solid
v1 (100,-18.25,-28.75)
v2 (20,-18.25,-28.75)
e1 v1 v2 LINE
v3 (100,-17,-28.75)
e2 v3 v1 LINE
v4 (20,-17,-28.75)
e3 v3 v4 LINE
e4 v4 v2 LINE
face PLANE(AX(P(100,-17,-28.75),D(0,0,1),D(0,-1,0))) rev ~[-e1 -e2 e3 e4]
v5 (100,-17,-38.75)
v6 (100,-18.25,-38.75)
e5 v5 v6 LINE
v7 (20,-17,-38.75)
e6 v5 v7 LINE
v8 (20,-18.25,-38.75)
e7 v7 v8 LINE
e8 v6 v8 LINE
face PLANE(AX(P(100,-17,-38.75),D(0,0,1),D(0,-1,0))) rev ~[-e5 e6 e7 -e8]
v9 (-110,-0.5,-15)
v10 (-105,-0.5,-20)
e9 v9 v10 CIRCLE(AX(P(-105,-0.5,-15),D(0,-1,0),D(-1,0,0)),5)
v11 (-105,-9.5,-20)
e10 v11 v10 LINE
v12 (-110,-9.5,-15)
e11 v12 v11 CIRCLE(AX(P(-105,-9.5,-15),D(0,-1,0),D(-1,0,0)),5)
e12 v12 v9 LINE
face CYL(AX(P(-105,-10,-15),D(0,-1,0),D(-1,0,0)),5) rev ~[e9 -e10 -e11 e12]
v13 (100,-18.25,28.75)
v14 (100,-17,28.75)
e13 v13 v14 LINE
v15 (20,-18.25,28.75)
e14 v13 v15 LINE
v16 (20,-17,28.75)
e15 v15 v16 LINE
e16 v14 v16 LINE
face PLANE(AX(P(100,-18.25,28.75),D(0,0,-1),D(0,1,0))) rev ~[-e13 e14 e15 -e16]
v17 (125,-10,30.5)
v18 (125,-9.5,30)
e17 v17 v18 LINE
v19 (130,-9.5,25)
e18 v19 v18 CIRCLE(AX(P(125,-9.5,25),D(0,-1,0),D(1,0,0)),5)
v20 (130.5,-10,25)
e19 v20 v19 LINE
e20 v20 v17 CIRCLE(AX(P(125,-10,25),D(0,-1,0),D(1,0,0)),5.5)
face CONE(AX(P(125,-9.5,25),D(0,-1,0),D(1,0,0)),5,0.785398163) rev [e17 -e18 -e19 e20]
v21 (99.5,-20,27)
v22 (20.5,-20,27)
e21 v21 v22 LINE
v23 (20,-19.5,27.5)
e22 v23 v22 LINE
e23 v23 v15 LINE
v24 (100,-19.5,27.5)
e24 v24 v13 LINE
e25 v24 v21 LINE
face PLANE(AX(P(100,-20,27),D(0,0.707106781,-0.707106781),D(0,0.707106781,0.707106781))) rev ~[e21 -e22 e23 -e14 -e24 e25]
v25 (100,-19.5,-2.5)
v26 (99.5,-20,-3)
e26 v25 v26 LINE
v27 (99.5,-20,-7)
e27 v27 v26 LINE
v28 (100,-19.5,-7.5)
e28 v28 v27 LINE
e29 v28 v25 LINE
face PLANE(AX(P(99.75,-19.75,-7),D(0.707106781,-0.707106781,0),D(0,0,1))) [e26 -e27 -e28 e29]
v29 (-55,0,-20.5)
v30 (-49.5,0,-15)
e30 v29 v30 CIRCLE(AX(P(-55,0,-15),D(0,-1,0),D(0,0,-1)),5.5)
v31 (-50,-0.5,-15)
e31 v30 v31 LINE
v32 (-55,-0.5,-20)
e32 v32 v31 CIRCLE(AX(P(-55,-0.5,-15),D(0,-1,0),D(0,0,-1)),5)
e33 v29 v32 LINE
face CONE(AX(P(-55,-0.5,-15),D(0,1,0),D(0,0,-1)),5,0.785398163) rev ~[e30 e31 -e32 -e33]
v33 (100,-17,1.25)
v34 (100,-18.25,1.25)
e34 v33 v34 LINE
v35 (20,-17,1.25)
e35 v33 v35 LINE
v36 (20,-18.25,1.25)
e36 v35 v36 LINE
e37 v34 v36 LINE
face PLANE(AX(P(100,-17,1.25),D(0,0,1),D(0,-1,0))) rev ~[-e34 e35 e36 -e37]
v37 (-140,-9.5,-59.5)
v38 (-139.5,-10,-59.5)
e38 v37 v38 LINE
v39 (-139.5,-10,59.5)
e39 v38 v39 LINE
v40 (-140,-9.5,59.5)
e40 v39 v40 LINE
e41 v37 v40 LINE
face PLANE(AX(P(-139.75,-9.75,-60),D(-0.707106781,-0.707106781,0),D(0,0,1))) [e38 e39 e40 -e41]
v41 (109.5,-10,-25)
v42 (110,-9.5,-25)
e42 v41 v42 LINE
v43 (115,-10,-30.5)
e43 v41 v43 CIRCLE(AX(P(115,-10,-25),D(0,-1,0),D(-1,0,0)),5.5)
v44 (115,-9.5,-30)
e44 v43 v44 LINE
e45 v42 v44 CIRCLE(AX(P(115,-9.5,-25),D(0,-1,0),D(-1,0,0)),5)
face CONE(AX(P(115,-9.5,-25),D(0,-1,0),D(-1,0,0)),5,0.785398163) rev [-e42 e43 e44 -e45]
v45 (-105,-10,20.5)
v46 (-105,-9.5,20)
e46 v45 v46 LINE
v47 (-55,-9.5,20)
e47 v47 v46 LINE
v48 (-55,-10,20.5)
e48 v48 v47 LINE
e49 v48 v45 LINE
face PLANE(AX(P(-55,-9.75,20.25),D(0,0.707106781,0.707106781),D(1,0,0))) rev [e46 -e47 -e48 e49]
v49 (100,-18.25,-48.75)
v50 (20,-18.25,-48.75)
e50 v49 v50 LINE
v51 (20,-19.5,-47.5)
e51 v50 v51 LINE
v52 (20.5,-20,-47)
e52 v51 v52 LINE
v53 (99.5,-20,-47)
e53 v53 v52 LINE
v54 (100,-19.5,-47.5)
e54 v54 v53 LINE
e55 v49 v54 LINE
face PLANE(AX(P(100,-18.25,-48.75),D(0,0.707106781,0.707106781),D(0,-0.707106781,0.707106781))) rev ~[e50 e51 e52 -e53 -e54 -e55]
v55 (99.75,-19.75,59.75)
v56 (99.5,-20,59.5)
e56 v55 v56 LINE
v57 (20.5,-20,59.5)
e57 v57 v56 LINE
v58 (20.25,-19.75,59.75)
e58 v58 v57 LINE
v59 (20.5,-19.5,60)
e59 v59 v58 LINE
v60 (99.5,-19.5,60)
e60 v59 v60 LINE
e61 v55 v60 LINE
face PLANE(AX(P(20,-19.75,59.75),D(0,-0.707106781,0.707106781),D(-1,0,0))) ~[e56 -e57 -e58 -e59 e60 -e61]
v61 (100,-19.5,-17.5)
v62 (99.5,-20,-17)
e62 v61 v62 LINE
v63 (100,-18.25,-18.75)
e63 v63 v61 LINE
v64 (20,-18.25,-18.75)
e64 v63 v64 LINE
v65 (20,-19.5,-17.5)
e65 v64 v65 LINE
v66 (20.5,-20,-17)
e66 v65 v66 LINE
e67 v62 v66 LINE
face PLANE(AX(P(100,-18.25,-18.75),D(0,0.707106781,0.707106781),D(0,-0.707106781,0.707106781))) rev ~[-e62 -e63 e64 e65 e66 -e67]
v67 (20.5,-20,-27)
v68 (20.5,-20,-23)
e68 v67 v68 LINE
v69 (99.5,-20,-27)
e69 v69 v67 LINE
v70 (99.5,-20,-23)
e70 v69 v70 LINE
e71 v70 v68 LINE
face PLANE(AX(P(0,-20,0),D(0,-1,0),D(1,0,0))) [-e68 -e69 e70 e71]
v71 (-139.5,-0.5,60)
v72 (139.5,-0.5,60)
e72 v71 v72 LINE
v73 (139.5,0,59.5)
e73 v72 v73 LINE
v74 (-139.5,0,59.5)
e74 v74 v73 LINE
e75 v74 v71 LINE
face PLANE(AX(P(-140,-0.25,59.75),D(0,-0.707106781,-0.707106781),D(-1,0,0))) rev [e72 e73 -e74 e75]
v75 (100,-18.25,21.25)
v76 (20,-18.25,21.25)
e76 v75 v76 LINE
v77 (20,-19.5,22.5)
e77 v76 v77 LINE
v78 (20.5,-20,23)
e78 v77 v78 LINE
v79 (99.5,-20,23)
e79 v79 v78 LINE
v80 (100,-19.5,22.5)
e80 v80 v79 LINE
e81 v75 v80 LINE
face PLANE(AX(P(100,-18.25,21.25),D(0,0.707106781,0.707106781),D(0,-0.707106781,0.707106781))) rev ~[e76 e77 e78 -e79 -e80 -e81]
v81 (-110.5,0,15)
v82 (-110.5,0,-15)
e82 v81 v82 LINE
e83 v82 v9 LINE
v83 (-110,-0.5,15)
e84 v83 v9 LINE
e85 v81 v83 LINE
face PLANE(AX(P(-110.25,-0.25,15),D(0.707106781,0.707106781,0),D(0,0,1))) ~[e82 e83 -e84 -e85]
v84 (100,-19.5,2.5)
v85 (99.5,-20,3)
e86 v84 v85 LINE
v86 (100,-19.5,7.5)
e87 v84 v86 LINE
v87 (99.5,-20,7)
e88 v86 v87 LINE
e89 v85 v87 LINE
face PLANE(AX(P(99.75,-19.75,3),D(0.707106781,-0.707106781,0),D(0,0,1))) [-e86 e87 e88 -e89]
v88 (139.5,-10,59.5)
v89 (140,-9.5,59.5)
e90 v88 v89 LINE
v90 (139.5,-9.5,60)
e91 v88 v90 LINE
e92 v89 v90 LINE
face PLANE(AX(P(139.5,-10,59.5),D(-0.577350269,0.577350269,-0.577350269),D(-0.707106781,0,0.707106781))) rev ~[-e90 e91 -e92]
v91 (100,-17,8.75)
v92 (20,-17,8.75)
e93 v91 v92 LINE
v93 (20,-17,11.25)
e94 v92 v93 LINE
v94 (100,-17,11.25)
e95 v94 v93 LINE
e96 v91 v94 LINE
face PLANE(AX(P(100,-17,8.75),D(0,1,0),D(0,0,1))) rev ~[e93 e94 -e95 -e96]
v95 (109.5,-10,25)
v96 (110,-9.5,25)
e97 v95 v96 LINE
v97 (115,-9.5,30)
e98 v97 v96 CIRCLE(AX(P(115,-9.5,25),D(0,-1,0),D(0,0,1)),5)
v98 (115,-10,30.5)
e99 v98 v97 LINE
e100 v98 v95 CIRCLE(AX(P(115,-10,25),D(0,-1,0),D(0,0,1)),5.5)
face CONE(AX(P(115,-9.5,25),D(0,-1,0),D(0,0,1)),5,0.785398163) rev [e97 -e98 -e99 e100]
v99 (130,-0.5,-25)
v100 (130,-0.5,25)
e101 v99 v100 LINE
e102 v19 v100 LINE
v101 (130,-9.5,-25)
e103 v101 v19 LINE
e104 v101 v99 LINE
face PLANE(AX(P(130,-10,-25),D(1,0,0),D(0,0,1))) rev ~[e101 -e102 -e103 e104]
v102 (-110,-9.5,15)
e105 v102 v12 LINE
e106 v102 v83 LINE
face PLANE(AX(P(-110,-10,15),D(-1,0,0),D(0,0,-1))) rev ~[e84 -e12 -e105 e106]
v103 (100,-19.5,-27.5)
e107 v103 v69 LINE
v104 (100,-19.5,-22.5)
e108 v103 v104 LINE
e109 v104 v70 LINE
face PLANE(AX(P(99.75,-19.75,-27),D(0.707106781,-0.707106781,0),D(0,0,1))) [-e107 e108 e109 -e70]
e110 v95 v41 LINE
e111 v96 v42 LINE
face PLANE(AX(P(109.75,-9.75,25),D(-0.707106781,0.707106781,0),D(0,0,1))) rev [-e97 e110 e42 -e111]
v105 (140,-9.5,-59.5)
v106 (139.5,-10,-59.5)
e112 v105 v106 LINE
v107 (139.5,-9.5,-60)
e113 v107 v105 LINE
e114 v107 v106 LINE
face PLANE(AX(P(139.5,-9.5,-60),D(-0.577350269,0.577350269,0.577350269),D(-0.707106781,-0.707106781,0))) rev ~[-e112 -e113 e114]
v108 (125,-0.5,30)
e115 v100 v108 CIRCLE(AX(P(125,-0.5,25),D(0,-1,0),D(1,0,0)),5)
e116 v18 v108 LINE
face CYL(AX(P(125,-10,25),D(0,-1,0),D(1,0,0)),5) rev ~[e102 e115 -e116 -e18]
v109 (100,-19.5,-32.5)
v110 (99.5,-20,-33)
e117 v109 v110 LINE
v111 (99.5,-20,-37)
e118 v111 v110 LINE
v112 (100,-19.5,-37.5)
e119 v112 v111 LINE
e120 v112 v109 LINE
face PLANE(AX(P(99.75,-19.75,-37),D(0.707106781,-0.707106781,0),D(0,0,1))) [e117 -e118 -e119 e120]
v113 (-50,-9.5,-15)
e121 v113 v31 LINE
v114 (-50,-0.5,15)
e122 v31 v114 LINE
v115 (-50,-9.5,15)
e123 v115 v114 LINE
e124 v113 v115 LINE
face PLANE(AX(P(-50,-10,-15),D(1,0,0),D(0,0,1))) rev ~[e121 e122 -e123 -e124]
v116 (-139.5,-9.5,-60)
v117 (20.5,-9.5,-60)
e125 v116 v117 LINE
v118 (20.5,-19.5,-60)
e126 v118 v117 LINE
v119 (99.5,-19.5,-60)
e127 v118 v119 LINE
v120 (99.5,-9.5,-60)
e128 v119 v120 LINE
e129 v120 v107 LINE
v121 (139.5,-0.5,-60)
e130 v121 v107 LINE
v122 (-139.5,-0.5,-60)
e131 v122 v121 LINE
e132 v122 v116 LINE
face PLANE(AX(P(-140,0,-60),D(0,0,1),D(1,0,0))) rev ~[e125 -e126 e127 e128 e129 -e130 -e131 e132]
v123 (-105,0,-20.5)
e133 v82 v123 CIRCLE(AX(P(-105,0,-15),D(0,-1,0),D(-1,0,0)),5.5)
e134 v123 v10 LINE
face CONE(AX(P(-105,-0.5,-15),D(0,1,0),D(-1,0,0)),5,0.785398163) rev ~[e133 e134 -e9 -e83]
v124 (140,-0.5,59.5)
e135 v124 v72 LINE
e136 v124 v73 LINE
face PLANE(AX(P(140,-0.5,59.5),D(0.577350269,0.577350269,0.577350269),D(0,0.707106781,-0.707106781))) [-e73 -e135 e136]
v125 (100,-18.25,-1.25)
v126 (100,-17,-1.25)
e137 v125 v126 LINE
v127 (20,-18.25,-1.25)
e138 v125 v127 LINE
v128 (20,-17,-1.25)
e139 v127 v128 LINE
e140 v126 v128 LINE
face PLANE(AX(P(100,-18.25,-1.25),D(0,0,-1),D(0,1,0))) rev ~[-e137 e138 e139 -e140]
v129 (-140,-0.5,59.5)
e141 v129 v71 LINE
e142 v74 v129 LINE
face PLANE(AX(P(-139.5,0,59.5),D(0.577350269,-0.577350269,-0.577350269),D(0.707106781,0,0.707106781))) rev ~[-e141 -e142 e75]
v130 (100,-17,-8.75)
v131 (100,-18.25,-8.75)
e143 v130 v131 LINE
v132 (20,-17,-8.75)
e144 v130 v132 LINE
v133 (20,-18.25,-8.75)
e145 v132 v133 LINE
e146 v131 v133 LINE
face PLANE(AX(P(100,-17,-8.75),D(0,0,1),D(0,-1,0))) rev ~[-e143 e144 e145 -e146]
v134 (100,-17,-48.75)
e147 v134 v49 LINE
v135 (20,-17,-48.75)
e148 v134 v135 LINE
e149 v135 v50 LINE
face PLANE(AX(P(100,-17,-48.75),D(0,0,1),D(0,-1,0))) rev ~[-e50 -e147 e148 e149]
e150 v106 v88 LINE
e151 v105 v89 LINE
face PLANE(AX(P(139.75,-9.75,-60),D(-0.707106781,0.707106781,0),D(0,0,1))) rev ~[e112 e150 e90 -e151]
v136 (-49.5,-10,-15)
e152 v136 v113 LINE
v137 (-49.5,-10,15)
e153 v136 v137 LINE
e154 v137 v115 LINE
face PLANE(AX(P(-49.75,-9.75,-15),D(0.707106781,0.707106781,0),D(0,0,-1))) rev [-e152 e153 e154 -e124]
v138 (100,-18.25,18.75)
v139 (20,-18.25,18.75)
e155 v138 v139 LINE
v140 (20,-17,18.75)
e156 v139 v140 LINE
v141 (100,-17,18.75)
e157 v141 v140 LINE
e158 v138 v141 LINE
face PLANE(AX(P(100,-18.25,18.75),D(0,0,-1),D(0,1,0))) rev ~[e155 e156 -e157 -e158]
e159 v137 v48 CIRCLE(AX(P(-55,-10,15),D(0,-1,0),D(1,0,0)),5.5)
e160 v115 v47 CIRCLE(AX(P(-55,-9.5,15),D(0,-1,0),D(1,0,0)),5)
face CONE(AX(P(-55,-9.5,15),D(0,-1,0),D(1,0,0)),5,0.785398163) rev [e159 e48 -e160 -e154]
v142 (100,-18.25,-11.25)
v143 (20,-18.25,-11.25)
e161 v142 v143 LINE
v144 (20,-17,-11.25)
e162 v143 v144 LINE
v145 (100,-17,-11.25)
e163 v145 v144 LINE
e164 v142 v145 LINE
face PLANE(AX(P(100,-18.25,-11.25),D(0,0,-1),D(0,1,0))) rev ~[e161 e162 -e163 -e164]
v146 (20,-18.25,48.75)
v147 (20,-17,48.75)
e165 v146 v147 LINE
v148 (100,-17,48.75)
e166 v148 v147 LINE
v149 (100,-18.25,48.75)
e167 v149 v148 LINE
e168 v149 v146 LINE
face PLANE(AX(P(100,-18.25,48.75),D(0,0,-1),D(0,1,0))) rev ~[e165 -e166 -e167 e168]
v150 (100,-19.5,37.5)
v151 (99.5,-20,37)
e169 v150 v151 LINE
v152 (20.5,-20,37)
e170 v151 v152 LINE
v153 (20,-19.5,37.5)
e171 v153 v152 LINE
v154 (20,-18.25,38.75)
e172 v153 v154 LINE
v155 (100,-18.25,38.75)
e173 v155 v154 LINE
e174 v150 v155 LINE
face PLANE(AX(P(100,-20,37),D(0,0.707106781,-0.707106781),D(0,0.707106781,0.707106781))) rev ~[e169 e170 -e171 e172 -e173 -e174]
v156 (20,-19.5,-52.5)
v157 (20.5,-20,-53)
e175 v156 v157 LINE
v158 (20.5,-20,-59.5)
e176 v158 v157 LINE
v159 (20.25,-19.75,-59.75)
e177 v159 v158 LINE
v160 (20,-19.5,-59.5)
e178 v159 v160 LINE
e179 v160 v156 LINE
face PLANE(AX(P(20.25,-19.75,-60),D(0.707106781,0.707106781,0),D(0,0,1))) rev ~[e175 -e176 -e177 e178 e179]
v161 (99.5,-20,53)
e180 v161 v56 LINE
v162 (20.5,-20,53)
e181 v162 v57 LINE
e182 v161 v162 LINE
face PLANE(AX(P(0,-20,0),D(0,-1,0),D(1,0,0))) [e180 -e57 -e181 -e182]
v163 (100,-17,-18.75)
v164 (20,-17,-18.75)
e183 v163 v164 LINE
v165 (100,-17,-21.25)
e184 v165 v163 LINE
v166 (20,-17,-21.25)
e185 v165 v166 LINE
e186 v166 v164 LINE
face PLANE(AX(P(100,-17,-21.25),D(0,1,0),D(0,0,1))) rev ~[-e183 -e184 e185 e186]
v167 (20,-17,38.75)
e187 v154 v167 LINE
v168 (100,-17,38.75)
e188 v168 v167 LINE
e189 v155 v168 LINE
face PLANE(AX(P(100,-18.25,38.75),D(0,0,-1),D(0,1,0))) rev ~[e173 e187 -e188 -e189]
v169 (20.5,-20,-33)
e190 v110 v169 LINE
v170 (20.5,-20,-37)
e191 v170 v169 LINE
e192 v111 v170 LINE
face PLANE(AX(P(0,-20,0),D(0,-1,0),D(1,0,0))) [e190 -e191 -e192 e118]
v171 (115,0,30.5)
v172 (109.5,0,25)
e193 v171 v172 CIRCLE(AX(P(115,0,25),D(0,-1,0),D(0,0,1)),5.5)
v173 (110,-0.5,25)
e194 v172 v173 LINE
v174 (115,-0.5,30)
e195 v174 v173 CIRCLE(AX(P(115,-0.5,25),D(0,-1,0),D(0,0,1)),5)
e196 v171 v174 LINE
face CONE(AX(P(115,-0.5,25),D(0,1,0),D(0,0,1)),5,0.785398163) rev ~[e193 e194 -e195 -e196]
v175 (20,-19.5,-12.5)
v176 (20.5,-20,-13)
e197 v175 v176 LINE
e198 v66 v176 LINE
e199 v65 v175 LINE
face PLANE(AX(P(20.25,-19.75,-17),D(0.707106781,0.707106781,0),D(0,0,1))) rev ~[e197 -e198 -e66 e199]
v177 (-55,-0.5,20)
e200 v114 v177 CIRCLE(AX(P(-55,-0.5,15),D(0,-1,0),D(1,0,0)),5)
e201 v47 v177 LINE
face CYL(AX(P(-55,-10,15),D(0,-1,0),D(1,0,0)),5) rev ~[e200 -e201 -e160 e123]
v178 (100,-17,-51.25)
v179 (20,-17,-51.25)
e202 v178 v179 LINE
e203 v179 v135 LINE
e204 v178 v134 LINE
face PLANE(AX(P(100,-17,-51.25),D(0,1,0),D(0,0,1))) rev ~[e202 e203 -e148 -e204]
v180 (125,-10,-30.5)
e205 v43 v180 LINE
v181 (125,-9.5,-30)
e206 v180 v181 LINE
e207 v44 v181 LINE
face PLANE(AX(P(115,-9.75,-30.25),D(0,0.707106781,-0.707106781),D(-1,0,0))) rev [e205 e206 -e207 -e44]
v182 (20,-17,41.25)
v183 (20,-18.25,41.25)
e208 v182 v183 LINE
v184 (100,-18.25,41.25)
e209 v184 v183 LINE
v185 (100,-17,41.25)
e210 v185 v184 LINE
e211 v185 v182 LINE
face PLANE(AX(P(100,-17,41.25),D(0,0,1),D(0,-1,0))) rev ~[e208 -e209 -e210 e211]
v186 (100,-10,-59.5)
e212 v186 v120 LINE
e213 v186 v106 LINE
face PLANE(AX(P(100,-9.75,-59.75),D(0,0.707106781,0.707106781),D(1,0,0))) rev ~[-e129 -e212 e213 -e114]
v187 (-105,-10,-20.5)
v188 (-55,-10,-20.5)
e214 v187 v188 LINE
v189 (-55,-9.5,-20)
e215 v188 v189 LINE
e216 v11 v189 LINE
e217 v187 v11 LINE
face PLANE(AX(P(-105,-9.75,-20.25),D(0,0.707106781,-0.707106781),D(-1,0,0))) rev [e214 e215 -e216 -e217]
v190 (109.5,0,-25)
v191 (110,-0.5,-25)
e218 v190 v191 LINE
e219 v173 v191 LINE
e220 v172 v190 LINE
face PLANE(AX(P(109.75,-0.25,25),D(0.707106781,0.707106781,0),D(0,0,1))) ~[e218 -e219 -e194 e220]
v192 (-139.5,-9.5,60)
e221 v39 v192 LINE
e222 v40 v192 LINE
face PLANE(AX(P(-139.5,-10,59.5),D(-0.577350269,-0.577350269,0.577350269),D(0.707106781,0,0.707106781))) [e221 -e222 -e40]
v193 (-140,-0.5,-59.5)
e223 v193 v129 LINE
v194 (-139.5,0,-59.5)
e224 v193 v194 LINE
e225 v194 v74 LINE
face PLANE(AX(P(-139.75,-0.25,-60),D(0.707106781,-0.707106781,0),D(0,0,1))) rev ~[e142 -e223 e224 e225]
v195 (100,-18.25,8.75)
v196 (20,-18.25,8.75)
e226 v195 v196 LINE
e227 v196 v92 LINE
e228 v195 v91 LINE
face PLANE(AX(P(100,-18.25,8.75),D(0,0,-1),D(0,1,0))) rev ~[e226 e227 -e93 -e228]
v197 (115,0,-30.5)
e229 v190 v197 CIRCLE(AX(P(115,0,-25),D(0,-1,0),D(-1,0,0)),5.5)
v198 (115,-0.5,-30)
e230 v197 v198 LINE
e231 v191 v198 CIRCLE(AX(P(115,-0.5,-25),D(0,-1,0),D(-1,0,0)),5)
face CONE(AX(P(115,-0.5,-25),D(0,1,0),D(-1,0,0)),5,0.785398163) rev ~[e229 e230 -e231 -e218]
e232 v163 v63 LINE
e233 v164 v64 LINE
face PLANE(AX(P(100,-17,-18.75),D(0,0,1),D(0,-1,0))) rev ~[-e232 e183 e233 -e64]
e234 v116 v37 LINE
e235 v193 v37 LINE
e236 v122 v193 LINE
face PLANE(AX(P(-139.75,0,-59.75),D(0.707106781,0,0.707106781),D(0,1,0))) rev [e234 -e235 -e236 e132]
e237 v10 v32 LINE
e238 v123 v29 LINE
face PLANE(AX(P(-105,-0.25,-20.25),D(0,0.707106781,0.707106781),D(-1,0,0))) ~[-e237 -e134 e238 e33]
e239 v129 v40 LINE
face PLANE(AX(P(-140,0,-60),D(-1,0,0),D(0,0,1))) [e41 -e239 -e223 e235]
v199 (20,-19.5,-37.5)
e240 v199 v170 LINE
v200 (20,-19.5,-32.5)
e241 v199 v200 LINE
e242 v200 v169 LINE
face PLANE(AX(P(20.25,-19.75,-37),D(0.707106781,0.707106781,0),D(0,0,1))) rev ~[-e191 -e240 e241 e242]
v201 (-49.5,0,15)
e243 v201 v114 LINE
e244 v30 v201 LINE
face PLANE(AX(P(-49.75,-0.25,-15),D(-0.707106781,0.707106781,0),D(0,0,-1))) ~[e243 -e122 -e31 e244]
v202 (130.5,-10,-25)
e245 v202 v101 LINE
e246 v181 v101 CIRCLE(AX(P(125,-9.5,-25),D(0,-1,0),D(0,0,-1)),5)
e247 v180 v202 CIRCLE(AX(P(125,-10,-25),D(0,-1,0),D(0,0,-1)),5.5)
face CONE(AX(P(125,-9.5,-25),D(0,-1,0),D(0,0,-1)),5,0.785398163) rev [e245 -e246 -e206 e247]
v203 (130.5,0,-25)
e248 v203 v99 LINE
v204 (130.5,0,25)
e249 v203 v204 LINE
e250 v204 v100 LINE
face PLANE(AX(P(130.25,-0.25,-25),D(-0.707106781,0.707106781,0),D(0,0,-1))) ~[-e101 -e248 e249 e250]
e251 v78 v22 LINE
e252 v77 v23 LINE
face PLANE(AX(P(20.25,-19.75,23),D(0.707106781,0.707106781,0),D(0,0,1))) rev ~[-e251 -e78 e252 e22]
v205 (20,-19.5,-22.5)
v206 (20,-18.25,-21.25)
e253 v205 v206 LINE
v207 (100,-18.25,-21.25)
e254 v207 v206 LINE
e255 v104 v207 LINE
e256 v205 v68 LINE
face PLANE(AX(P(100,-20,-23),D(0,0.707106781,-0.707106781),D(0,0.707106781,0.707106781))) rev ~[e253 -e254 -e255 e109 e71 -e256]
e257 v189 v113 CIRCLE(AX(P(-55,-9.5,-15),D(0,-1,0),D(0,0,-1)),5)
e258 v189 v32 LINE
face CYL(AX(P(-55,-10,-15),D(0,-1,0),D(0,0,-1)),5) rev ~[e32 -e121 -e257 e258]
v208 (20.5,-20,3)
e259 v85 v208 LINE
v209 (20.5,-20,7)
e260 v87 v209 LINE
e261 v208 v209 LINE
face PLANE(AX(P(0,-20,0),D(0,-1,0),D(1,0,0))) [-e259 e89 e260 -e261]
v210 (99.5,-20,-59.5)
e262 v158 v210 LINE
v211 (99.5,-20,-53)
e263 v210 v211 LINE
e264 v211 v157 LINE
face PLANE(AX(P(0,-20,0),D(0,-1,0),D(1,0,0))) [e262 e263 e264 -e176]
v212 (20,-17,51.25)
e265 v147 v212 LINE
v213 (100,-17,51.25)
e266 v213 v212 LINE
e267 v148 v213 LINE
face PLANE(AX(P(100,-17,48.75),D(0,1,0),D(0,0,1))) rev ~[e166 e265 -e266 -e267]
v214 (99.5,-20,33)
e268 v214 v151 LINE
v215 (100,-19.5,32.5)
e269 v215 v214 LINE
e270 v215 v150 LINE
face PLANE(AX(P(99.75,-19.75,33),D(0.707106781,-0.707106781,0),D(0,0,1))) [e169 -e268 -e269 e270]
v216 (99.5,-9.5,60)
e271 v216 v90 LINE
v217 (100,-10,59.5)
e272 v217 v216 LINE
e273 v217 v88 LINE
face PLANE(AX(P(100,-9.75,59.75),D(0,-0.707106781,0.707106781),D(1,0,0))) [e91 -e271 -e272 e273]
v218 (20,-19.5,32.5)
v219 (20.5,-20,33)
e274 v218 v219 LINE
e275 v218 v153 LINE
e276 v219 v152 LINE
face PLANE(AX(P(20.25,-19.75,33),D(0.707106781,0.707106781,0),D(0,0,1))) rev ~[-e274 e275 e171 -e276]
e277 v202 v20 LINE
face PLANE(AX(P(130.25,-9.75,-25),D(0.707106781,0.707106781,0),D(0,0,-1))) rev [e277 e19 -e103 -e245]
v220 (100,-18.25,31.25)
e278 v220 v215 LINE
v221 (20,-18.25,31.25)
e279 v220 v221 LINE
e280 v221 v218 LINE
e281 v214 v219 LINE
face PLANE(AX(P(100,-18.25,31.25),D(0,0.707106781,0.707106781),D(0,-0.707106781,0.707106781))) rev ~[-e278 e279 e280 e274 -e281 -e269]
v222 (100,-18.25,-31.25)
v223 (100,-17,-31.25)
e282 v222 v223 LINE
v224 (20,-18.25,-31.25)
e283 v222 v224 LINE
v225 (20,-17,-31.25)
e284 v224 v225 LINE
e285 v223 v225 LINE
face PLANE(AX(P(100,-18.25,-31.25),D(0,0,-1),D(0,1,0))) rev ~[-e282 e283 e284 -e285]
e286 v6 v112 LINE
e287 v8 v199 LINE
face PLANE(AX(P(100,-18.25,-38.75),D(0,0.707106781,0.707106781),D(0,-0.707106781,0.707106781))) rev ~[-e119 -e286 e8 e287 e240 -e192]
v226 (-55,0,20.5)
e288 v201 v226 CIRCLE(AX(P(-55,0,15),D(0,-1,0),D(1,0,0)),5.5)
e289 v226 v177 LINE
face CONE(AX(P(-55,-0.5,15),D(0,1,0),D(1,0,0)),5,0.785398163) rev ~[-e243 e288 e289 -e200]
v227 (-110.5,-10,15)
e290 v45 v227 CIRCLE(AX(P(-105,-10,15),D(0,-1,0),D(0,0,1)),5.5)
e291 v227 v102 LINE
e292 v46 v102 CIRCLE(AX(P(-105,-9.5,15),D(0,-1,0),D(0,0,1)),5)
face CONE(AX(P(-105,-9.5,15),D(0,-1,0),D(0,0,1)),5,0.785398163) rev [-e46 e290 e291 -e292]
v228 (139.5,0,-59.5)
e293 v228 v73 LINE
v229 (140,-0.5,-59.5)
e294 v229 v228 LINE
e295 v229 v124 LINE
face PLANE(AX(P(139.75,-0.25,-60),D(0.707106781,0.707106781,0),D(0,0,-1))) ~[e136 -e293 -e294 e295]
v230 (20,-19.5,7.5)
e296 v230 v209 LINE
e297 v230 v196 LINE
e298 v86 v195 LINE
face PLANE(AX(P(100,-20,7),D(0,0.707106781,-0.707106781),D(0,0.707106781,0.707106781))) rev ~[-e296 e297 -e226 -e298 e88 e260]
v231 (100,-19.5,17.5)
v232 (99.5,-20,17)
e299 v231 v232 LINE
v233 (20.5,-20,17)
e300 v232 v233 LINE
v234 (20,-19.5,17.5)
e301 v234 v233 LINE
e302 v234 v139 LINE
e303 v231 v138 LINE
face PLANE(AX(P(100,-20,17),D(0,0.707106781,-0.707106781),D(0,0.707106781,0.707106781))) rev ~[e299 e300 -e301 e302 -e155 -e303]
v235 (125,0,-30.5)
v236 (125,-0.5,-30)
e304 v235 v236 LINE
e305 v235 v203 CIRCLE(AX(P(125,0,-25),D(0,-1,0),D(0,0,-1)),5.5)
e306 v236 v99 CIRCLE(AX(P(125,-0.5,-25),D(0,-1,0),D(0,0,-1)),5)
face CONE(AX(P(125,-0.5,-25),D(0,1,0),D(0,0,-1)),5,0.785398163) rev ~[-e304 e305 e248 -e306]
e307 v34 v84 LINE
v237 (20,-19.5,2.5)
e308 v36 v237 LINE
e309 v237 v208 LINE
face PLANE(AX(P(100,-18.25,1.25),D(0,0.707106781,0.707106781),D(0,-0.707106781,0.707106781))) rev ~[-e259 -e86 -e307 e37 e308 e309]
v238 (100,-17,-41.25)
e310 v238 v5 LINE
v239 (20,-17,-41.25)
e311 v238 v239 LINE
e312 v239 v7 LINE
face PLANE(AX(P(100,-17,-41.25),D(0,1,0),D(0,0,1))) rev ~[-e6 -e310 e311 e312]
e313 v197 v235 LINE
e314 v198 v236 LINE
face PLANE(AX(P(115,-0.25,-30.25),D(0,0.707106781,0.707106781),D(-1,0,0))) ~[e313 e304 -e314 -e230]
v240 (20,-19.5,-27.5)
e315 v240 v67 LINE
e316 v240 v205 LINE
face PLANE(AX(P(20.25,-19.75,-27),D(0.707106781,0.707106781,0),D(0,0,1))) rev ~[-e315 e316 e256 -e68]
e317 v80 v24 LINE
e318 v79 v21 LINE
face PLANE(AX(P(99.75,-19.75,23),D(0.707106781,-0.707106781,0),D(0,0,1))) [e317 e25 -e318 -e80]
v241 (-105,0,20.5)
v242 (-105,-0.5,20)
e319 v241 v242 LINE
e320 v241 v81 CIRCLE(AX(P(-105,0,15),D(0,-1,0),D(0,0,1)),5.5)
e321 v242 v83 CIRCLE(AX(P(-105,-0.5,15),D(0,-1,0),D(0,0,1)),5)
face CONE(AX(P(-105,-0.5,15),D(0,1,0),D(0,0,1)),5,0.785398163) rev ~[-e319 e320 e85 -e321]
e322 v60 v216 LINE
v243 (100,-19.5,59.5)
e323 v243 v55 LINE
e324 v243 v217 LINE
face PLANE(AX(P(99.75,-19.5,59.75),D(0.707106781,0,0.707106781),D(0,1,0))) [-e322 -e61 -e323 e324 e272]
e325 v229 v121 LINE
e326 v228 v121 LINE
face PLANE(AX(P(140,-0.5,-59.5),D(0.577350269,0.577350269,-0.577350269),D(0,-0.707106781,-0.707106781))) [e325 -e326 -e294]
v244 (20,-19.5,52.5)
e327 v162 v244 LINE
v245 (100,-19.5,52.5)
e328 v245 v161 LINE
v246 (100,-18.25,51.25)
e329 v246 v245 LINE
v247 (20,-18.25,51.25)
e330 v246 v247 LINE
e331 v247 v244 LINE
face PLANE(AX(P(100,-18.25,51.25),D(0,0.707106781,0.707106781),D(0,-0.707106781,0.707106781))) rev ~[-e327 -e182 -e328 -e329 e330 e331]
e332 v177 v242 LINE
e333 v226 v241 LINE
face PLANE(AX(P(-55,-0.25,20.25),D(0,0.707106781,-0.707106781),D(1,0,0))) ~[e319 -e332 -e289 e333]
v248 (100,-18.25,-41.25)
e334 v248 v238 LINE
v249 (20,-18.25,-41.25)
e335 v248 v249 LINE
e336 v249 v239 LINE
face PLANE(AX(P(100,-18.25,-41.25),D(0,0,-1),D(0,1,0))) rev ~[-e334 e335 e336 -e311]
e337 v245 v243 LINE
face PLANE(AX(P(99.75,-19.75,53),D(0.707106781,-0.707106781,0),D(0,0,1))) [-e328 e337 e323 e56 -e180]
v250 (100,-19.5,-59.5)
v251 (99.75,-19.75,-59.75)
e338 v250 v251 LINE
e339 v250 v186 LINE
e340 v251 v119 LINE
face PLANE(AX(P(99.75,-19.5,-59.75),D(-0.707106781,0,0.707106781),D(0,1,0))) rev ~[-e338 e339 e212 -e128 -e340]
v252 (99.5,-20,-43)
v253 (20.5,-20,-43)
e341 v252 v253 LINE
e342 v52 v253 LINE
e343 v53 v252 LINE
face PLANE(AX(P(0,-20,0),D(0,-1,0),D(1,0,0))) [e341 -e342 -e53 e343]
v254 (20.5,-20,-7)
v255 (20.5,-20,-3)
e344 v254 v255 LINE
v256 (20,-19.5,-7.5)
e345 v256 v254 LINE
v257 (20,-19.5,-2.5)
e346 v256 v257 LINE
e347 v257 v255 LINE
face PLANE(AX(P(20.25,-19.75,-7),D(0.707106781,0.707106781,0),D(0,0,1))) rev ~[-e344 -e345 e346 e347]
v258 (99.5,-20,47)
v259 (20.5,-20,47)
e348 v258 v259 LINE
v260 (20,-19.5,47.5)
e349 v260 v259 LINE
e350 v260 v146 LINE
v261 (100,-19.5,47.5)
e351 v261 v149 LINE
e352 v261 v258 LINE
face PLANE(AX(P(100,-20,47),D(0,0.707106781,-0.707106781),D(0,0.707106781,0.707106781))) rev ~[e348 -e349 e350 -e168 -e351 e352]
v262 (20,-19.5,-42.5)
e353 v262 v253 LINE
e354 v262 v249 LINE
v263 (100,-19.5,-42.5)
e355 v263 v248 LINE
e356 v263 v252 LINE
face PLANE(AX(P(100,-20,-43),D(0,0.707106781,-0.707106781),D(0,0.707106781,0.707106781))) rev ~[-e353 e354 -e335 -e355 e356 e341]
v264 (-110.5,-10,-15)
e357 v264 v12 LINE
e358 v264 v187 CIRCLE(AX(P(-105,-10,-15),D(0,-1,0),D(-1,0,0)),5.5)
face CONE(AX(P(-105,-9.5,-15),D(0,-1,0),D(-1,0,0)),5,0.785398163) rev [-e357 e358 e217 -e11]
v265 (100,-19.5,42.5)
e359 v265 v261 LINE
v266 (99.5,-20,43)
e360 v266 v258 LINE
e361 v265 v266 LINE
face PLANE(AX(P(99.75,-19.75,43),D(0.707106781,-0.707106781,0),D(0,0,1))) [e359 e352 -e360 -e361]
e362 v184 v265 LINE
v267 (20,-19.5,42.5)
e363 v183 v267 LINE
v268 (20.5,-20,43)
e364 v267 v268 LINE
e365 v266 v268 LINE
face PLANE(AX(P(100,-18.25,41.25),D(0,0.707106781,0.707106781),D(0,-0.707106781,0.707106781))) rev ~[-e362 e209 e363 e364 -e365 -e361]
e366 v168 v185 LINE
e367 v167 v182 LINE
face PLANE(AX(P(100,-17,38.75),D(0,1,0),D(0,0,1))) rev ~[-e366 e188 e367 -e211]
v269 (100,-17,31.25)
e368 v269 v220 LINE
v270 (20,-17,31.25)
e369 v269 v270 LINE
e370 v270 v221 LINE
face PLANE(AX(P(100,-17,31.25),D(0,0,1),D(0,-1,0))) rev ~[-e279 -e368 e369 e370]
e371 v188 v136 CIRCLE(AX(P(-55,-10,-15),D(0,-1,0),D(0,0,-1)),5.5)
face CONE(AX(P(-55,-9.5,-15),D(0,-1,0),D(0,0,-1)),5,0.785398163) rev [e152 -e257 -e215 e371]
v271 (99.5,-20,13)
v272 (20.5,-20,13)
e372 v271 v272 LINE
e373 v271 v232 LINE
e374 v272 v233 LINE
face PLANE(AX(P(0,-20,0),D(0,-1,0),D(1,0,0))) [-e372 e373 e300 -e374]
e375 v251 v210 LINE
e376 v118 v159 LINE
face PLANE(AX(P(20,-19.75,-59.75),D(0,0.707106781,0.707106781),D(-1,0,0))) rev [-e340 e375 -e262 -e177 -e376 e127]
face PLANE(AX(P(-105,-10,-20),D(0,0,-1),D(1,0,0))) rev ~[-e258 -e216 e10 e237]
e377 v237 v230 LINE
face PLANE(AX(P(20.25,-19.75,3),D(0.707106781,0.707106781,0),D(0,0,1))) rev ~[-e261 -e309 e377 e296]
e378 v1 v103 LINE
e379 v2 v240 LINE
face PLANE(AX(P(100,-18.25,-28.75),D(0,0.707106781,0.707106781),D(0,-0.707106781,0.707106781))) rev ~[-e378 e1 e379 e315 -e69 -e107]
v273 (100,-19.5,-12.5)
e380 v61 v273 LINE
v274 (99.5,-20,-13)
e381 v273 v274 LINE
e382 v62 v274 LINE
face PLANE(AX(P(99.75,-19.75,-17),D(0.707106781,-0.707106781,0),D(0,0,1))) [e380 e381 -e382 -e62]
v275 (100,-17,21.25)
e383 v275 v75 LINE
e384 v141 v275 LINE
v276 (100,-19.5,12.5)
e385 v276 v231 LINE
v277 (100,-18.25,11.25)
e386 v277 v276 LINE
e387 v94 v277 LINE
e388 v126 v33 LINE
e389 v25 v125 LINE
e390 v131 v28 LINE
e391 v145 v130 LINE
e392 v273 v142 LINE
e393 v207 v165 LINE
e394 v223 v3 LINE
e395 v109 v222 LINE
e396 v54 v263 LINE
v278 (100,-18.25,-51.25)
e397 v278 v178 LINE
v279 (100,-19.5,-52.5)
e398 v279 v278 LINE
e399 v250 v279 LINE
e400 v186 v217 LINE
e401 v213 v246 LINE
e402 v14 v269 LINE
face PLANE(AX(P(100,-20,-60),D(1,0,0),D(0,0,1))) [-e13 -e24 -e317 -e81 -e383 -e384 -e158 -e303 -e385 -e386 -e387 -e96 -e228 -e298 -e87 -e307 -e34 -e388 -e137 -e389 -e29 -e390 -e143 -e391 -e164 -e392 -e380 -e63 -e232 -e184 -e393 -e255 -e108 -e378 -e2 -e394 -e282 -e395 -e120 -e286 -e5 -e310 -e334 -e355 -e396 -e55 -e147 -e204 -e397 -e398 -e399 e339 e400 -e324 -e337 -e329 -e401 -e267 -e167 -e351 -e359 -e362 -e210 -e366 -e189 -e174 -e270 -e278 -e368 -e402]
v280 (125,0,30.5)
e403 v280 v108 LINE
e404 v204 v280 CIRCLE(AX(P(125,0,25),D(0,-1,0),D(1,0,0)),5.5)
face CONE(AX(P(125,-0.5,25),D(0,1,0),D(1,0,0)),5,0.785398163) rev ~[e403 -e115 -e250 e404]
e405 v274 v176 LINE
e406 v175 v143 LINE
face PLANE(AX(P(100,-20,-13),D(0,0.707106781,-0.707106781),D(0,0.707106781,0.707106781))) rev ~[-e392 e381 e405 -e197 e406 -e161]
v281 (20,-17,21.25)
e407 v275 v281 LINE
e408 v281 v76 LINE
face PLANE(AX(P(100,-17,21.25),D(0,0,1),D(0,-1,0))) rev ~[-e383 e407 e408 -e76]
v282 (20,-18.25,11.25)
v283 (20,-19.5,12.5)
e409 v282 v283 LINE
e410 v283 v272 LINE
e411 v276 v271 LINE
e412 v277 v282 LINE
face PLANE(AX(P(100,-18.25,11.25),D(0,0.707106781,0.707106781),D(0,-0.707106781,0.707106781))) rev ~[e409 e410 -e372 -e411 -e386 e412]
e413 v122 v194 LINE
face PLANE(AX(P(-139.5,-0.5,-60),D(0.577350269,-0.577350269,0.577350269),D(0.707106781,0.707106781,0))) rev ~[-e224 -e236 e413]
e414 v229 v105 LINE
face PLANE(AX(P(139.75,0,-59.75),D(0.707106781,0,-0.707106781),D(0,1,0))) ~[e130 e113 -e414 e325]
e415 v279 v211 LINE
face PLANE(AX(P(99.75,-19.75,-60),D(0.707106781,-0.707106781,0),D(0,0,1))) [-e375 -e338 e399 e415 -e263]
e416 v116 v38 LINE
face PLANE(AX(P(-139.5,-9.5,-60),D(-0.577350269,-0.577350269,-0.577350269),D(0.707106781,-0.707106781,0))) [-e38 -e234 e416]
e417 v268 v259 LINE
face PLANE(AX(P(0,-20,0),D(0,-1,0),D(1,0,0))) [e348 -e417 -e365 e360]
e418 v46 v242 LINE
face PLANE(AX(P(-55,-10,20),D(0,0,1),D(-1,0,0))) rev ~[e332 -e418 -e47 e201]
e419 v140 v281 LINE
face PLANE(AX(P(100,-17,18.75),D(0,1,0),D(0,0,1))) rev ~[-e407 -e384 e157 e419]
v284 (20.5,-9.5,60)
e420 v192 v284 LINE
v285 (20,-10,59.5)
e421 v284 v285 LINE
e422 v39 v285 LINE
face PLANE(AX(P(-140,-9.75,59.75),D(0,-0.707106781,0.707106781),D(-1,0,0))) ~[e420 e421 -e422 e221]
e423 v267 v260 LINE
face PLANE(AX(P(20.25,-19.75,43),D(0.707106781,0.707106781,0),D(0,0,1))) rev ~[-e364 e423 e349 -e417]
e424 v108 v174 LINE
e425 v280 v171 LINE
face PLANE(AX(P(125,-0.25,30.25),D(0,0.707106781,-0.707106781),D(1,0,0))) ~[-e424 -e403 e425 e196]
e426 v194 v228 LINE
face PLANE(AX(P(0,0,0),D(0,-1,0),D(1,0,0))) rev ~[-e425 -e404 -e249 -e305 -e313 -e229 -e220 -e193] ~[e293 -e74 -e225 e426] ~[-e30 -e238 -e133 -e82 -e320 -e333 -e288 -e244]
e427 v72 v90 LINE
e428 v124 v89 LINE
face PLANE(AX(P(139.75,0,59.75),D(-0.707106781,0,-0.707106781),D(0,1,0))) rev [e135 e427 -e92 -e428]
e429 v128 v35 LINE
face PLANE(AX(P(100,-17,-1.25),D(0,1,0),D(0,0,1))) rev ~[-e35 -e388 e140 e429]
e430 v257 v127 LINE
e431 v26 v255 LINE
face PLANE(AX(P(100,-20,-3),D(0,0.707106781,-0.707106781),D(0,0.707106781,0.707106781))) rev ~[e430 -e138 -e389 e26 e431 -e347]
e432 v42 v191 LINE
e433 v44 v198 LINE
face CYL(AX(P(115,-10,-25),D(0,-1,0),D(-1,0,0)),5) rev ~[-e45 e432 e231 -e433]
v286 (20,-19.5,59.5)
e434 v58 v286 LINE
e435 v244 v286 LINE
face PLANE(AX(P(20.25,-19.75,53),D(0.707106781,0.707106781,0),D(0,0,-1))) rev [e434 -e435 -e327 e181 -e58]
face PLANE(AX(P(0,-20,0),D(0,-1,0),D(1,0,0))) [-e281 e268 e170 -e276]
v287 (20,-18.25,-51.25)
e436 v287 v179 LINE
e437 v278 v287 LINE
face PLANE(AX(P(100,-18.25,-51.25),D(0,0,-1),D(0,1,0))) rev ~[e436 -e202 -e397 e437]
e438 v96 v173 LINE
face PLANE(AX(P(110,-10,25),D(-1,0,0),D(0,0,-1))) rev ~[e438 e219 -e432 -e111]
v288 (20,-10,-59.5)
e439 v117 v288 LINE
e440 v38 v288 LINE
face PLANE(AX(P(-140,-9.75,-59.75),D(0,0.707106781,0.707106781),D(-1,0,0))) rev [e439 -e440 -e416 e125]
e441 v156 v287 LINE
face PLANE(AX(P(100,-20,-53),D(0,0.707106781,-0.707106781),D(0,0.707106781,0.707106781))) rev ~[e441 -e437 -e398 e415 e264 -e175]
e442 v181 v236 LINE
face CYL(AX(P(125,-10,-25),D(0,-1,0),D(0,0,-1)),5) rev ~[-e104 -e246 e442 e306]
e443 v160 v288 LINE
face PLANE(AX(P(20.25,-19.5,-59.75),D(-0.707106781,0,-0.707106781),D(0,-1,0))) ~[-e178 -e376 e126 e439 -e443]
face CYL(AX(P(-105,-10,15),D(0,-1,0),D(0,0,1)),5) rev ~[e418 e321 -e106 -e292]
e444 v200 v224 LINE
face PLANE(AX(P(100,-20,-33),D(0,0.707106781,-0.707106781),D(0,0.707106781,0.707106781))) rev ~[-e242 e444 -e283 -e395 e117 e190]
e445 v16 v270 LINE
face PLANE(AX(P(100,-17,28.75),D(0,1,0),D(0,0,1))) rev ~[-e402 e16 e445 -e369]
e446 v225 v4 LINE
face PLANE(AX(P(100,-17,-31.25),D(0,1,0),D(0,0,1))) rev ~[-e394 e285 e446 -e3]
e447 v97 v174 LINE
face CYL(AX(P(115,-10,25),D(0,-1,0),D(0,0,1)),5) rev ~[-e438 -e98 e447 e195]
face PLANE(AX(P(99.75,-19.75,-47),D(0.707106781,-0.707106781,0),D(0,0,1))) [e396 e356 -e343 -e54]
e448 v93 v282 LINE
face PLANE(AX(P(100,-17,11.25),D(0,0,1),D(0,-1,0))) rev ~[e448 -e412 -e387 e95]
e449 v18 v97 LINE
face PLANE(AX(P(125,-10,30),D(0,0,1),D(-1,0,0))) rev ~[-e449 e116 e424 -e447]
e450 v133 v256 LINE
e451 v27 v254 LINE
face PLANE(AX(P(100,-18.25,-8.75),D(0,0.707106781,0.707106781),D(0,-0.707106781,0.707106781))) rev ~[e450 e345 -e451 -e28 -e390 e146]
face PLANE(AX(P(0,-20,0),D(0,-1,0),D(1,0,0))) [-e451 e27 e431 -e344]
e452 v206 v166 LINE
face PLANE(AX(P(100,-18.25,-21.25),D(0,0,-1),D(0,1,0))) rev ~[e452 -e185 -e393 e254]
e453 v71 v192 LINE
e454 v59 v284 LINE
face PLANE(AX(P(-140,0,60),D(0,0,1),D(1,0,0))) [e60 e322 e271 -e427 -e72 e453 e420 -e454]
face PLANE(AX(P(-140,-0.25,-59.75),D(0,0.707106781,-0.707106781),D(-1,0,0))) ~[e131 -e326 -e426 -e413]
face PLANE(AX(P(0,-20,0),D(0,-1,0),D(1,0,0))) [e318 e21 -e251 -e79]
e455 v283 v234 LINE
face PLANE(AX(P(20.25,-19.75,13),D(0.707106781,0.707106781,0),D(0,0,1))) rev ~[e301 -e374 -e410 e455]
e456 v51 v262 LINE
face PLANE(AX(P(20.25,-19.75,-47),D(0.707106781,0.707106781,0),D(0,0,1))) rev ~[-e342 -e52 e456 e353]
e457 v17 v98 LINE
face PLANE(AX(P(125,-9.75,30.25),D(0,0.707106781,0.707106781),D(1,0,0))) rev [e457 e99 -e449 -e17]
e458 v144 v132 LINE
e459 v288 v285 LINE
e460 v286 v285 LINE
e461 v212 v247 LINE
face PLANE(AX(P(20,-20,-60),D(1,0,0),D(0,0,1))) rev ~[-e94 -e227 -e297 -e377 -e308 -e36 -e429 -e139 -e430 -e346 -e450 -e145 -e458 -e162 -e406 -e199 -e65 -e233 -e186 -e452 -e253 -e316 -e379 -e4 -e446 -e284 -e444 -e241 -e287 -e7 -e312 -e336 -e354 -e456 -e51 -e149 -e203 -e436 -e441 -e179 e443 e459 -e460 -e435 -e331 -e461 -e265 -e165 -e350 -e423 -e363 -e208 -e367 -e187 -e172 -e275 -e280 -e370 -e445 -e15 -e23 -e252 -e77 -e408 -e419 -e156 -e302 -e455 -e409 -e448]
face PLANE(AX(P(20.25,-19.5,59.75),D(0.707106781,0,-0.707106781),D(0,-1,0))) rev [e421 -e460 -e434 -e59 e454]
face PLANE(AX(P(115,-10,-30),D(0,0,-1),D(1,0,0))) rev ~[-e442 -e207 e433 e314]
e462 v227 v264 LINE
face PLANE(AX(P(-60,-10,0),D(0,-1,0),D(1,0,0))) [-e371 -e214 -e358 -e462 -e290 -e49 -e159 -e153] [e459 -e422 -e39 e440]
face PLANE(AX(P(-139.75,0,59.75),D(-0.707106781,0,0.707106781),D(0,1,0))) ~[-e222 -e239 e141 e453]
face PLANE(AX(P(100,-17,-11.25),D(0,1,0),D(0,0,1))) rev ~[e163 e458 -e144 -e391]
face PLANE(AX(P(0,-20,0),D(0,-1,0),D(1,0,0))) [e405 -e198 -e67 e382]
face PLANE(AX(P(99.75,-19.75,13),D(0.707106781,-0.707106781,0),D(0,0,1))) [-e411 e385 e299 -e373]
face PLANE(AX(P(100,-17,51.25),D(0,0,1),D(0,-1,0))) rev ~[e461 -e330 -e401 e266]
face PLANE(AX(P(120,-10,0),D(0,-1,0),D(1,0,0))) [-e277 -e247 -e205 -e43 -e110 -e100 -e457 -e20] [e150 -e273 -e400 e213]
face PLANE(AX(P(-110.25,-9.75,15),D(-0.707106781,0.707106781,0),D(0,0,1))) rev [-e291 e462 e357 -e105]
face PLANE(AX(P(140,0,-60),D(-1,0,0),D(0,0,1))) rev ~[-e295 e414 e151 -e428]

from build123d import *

# Parameters (mm, degrees)
F0_W      = 280
F0_H      = 120
F1_DEPTH  = 20
F2_W      = 160
F2_H      = 120
F3_DEPTH  = 10
F5_DEPTH  = 25
F6_W      = 40
F6_H      = 120
F7_DEPTH  = 10
F9_DEPTH  = 10.001
F11_DEPTH = 240.001
F12_SIZE  = 0.5
F13_SIZE  = 0.5
F14_SIZE  = 0.5


with BuildPart() as f1:
    # F0 (on Front) → F1 (new body)
    with BuildSketch(Plane.XZ):
        Rectangle(F0_W, F0_H)
    extrude(amount=F1_DEPTH)

    # F2 (on face) → F3 (cut)
    with BuildSketch(Plane.XZ.offset(20)):
        with Locations((-60, 0)):
            Rectangle(F2_W, F2_H)
    extrude(amount=-F3_DEPTH, mode=Mode.SUBTRACT)

    # F4 (on face) → F5 (cut)
    with BuildSketch(Plane.XZ.offset(10)):
        with BuildLine():
            Line((-105, -20), (-55, -20))
            ThreePointArc((-55, -20), (-51.4644660941, -18.5355339059), (-50, -15))
            Line((-50, -15), (-50, 15))
            ThreePointArc((-50, 15), (-51.4644660941, 18.5355339059), (-55, 20))
            Line((-55, 20), (-105, 20))
            ThreePointArc((-105, 20), (-108.5355339059, 18.5355339059), (-110, 15))
            Line((-110, 15), (-110, -15))
            ThreePointArc((-110, -15), (-108.5355339059, -18.5355339059), (-105, -20))
        make_face()
    extrude(amount=-F5_DEPTH, mode=Mode.SUBTRACT)

    # F6 (on face) → F7 (cut)
    with BuildSketch(Plane.XZ.offset(20)):
        with Locations((120, 0)):
            Rectangle(F6_W, F6_H)
    extrude(amount=-F7_DEPTH, mode=Mode.SUBTRACT)

    # F8 (on face) → F9 (cut, through all)
    with BuildSketch(Plane.XZ.offset(10)):
        with BuildLine():
            ThreePointArc((110, -25), (111.4644660941, -28.5355339059), (115, -30))
            Line((115, -30), (125, -30))
            ThreePointArc((125, -30), (128.5355339059, -28.5355339059), (130, -25))
            Line((130, -25), (130, 25))
            ThreePointArc((130, 25), (128.5355339059, 28.5355339059), (125, 30))
            Line((125, 30), (115, 30))
            ThreePointArc((115, 30), (111.4644660941, 28.5355339059), (110, 25))
            Line((110, 25), (110, -25))
        make_face()
    extrude(amount=-F9_DEPTH, mode=Mode.SUBTRACT)

    # F10 (on face) → F11 (cut, through all)
    with BuildSketch(Plane.YZ.offset(100)):
        Polygon((-18.25, -51.25), (-17, -51.25), (-17, -48.75), (-18.25, -48.75), (-20, -47), (-20, -53), align=None)
        Polygon((-20, -37), (-20, -43), (-18.25, -41.25), (-17, -41.25), (-17, -38.75), (-18.25, -38.75), align=None)
        Polygon((-20, -27), (-20, -33), (-18.25, -31.25), (-17, -31.25), (-17, -28.75), (-18.25, -28.75), align=None)
        Polygon((-20, -17), (-20, -23), (-18.25, -21.25), (-17, -21.25), (-17, -18.75), (-18.25, -18.75), align=None)
        Polygon((-20, -7), (-20, -13), (-18.25, -11.25), (-17, -11.25), (-17, -8.75), (-18.25, -8.75), align=None)
        Polygon((-20, 3), (-20, -3), (-18.25, -1.25), (-17, -1.25), (-17, 1.25), (-18.25, 1.25), align=None)
        Polygon((-20, 13), (-20, 7), (-18.25, 8.75), (-17, 8.75), (-17, 11.25), (-18.25, 11.25), align=None)
        Polygon((-20, 23), (-20, 17), (-18.25, 18.75), (-17, 18.75), (-17, 21.25), (-18.25, 21.25), align=None)
        Polygon((-20, 33), (-20, 27), (-18.25, 28.75), (-17, 28.75), (-17, 31.25), (-18.25, 31.25), align=None)
        Polygon((-20, 43), (-20, 37), (-18.25, 38.75), (-17, 38.75), (-17, 41.25), (-18.25, 41.25), align=None)
        Polygon((-20, 53), (-20, 47), (-18.25, 48.75), (-17, 48.75), (-17, 51.25), (-18.25, 51.25), align=None)
    extrude(amount=-F11_DEPTH, mode=Mode.SUBTRACT)

    # F12
    f12_edges = [f1.edges().sort_by_distance(p)[0] for p in [
        (60, -20, -60),
        (100, -20, -56.5),
        (100, -20, -45),
        (100, -20, -25),
        (100, -20, -15),
        (100, -20, -35),
        (100, -20, -5),
        (100, -20, 5),
        (100, -20, 15),
        (100, -20, 25),
        (100, -20, 35),
        (100, -20, 45),
        (100, -20, 56.5),
        (60, -20, 60),
        (20, -20, -56.5),
        (20, -20, -45),
        (20, -20, -35),
        (20, -20, -25),
        (20, -20, -15),
        (20, -20, -5),
        (20, -20, 5),
        (20, -20, 15),
        (20, -20, 25),
        (20, -20, 56.5),
        (20, -20, 45),
        (20, -20, 35),
    ]]
    chamfer(f12_edges, length=F12_SIZE)

    # F13
    f13_edges = [f1.edges().sort_by_distance(p)[0] for p in [
        (110, -10, 0),
        (-80, -10, -20),
        (-80, 0, -20),
        (110, 0, 0),
    ]]
    chamfer(f13_edges, length=F13_SIZE)

    # F14
    f14_edges = [f1.edges().sort_by_distance(p)[0] for p in [
        (-140, -5, 60),
        (-140, -10, 0),
        (-140, 0, 0),
        (-140, -5, -60),
        (-60, -10, 60),
        (0, 0, 60),
        (20, -14.75, 60),
        (20, -14.75, -60),
        (-60, -10, -60),
        (0, 0, -60),
        (140, -5, 60),
        (140, 0, 0),
        (140, -10, 0),
        (140, -5, -60),
        (100, -14.75, 60),
        (120, -10, 60),
        (120, -10, -60),
        (100, -14.75, -60),
    ]]
    chamfer(f14_edges, length=F14_SIZE)


solid = f1.part
